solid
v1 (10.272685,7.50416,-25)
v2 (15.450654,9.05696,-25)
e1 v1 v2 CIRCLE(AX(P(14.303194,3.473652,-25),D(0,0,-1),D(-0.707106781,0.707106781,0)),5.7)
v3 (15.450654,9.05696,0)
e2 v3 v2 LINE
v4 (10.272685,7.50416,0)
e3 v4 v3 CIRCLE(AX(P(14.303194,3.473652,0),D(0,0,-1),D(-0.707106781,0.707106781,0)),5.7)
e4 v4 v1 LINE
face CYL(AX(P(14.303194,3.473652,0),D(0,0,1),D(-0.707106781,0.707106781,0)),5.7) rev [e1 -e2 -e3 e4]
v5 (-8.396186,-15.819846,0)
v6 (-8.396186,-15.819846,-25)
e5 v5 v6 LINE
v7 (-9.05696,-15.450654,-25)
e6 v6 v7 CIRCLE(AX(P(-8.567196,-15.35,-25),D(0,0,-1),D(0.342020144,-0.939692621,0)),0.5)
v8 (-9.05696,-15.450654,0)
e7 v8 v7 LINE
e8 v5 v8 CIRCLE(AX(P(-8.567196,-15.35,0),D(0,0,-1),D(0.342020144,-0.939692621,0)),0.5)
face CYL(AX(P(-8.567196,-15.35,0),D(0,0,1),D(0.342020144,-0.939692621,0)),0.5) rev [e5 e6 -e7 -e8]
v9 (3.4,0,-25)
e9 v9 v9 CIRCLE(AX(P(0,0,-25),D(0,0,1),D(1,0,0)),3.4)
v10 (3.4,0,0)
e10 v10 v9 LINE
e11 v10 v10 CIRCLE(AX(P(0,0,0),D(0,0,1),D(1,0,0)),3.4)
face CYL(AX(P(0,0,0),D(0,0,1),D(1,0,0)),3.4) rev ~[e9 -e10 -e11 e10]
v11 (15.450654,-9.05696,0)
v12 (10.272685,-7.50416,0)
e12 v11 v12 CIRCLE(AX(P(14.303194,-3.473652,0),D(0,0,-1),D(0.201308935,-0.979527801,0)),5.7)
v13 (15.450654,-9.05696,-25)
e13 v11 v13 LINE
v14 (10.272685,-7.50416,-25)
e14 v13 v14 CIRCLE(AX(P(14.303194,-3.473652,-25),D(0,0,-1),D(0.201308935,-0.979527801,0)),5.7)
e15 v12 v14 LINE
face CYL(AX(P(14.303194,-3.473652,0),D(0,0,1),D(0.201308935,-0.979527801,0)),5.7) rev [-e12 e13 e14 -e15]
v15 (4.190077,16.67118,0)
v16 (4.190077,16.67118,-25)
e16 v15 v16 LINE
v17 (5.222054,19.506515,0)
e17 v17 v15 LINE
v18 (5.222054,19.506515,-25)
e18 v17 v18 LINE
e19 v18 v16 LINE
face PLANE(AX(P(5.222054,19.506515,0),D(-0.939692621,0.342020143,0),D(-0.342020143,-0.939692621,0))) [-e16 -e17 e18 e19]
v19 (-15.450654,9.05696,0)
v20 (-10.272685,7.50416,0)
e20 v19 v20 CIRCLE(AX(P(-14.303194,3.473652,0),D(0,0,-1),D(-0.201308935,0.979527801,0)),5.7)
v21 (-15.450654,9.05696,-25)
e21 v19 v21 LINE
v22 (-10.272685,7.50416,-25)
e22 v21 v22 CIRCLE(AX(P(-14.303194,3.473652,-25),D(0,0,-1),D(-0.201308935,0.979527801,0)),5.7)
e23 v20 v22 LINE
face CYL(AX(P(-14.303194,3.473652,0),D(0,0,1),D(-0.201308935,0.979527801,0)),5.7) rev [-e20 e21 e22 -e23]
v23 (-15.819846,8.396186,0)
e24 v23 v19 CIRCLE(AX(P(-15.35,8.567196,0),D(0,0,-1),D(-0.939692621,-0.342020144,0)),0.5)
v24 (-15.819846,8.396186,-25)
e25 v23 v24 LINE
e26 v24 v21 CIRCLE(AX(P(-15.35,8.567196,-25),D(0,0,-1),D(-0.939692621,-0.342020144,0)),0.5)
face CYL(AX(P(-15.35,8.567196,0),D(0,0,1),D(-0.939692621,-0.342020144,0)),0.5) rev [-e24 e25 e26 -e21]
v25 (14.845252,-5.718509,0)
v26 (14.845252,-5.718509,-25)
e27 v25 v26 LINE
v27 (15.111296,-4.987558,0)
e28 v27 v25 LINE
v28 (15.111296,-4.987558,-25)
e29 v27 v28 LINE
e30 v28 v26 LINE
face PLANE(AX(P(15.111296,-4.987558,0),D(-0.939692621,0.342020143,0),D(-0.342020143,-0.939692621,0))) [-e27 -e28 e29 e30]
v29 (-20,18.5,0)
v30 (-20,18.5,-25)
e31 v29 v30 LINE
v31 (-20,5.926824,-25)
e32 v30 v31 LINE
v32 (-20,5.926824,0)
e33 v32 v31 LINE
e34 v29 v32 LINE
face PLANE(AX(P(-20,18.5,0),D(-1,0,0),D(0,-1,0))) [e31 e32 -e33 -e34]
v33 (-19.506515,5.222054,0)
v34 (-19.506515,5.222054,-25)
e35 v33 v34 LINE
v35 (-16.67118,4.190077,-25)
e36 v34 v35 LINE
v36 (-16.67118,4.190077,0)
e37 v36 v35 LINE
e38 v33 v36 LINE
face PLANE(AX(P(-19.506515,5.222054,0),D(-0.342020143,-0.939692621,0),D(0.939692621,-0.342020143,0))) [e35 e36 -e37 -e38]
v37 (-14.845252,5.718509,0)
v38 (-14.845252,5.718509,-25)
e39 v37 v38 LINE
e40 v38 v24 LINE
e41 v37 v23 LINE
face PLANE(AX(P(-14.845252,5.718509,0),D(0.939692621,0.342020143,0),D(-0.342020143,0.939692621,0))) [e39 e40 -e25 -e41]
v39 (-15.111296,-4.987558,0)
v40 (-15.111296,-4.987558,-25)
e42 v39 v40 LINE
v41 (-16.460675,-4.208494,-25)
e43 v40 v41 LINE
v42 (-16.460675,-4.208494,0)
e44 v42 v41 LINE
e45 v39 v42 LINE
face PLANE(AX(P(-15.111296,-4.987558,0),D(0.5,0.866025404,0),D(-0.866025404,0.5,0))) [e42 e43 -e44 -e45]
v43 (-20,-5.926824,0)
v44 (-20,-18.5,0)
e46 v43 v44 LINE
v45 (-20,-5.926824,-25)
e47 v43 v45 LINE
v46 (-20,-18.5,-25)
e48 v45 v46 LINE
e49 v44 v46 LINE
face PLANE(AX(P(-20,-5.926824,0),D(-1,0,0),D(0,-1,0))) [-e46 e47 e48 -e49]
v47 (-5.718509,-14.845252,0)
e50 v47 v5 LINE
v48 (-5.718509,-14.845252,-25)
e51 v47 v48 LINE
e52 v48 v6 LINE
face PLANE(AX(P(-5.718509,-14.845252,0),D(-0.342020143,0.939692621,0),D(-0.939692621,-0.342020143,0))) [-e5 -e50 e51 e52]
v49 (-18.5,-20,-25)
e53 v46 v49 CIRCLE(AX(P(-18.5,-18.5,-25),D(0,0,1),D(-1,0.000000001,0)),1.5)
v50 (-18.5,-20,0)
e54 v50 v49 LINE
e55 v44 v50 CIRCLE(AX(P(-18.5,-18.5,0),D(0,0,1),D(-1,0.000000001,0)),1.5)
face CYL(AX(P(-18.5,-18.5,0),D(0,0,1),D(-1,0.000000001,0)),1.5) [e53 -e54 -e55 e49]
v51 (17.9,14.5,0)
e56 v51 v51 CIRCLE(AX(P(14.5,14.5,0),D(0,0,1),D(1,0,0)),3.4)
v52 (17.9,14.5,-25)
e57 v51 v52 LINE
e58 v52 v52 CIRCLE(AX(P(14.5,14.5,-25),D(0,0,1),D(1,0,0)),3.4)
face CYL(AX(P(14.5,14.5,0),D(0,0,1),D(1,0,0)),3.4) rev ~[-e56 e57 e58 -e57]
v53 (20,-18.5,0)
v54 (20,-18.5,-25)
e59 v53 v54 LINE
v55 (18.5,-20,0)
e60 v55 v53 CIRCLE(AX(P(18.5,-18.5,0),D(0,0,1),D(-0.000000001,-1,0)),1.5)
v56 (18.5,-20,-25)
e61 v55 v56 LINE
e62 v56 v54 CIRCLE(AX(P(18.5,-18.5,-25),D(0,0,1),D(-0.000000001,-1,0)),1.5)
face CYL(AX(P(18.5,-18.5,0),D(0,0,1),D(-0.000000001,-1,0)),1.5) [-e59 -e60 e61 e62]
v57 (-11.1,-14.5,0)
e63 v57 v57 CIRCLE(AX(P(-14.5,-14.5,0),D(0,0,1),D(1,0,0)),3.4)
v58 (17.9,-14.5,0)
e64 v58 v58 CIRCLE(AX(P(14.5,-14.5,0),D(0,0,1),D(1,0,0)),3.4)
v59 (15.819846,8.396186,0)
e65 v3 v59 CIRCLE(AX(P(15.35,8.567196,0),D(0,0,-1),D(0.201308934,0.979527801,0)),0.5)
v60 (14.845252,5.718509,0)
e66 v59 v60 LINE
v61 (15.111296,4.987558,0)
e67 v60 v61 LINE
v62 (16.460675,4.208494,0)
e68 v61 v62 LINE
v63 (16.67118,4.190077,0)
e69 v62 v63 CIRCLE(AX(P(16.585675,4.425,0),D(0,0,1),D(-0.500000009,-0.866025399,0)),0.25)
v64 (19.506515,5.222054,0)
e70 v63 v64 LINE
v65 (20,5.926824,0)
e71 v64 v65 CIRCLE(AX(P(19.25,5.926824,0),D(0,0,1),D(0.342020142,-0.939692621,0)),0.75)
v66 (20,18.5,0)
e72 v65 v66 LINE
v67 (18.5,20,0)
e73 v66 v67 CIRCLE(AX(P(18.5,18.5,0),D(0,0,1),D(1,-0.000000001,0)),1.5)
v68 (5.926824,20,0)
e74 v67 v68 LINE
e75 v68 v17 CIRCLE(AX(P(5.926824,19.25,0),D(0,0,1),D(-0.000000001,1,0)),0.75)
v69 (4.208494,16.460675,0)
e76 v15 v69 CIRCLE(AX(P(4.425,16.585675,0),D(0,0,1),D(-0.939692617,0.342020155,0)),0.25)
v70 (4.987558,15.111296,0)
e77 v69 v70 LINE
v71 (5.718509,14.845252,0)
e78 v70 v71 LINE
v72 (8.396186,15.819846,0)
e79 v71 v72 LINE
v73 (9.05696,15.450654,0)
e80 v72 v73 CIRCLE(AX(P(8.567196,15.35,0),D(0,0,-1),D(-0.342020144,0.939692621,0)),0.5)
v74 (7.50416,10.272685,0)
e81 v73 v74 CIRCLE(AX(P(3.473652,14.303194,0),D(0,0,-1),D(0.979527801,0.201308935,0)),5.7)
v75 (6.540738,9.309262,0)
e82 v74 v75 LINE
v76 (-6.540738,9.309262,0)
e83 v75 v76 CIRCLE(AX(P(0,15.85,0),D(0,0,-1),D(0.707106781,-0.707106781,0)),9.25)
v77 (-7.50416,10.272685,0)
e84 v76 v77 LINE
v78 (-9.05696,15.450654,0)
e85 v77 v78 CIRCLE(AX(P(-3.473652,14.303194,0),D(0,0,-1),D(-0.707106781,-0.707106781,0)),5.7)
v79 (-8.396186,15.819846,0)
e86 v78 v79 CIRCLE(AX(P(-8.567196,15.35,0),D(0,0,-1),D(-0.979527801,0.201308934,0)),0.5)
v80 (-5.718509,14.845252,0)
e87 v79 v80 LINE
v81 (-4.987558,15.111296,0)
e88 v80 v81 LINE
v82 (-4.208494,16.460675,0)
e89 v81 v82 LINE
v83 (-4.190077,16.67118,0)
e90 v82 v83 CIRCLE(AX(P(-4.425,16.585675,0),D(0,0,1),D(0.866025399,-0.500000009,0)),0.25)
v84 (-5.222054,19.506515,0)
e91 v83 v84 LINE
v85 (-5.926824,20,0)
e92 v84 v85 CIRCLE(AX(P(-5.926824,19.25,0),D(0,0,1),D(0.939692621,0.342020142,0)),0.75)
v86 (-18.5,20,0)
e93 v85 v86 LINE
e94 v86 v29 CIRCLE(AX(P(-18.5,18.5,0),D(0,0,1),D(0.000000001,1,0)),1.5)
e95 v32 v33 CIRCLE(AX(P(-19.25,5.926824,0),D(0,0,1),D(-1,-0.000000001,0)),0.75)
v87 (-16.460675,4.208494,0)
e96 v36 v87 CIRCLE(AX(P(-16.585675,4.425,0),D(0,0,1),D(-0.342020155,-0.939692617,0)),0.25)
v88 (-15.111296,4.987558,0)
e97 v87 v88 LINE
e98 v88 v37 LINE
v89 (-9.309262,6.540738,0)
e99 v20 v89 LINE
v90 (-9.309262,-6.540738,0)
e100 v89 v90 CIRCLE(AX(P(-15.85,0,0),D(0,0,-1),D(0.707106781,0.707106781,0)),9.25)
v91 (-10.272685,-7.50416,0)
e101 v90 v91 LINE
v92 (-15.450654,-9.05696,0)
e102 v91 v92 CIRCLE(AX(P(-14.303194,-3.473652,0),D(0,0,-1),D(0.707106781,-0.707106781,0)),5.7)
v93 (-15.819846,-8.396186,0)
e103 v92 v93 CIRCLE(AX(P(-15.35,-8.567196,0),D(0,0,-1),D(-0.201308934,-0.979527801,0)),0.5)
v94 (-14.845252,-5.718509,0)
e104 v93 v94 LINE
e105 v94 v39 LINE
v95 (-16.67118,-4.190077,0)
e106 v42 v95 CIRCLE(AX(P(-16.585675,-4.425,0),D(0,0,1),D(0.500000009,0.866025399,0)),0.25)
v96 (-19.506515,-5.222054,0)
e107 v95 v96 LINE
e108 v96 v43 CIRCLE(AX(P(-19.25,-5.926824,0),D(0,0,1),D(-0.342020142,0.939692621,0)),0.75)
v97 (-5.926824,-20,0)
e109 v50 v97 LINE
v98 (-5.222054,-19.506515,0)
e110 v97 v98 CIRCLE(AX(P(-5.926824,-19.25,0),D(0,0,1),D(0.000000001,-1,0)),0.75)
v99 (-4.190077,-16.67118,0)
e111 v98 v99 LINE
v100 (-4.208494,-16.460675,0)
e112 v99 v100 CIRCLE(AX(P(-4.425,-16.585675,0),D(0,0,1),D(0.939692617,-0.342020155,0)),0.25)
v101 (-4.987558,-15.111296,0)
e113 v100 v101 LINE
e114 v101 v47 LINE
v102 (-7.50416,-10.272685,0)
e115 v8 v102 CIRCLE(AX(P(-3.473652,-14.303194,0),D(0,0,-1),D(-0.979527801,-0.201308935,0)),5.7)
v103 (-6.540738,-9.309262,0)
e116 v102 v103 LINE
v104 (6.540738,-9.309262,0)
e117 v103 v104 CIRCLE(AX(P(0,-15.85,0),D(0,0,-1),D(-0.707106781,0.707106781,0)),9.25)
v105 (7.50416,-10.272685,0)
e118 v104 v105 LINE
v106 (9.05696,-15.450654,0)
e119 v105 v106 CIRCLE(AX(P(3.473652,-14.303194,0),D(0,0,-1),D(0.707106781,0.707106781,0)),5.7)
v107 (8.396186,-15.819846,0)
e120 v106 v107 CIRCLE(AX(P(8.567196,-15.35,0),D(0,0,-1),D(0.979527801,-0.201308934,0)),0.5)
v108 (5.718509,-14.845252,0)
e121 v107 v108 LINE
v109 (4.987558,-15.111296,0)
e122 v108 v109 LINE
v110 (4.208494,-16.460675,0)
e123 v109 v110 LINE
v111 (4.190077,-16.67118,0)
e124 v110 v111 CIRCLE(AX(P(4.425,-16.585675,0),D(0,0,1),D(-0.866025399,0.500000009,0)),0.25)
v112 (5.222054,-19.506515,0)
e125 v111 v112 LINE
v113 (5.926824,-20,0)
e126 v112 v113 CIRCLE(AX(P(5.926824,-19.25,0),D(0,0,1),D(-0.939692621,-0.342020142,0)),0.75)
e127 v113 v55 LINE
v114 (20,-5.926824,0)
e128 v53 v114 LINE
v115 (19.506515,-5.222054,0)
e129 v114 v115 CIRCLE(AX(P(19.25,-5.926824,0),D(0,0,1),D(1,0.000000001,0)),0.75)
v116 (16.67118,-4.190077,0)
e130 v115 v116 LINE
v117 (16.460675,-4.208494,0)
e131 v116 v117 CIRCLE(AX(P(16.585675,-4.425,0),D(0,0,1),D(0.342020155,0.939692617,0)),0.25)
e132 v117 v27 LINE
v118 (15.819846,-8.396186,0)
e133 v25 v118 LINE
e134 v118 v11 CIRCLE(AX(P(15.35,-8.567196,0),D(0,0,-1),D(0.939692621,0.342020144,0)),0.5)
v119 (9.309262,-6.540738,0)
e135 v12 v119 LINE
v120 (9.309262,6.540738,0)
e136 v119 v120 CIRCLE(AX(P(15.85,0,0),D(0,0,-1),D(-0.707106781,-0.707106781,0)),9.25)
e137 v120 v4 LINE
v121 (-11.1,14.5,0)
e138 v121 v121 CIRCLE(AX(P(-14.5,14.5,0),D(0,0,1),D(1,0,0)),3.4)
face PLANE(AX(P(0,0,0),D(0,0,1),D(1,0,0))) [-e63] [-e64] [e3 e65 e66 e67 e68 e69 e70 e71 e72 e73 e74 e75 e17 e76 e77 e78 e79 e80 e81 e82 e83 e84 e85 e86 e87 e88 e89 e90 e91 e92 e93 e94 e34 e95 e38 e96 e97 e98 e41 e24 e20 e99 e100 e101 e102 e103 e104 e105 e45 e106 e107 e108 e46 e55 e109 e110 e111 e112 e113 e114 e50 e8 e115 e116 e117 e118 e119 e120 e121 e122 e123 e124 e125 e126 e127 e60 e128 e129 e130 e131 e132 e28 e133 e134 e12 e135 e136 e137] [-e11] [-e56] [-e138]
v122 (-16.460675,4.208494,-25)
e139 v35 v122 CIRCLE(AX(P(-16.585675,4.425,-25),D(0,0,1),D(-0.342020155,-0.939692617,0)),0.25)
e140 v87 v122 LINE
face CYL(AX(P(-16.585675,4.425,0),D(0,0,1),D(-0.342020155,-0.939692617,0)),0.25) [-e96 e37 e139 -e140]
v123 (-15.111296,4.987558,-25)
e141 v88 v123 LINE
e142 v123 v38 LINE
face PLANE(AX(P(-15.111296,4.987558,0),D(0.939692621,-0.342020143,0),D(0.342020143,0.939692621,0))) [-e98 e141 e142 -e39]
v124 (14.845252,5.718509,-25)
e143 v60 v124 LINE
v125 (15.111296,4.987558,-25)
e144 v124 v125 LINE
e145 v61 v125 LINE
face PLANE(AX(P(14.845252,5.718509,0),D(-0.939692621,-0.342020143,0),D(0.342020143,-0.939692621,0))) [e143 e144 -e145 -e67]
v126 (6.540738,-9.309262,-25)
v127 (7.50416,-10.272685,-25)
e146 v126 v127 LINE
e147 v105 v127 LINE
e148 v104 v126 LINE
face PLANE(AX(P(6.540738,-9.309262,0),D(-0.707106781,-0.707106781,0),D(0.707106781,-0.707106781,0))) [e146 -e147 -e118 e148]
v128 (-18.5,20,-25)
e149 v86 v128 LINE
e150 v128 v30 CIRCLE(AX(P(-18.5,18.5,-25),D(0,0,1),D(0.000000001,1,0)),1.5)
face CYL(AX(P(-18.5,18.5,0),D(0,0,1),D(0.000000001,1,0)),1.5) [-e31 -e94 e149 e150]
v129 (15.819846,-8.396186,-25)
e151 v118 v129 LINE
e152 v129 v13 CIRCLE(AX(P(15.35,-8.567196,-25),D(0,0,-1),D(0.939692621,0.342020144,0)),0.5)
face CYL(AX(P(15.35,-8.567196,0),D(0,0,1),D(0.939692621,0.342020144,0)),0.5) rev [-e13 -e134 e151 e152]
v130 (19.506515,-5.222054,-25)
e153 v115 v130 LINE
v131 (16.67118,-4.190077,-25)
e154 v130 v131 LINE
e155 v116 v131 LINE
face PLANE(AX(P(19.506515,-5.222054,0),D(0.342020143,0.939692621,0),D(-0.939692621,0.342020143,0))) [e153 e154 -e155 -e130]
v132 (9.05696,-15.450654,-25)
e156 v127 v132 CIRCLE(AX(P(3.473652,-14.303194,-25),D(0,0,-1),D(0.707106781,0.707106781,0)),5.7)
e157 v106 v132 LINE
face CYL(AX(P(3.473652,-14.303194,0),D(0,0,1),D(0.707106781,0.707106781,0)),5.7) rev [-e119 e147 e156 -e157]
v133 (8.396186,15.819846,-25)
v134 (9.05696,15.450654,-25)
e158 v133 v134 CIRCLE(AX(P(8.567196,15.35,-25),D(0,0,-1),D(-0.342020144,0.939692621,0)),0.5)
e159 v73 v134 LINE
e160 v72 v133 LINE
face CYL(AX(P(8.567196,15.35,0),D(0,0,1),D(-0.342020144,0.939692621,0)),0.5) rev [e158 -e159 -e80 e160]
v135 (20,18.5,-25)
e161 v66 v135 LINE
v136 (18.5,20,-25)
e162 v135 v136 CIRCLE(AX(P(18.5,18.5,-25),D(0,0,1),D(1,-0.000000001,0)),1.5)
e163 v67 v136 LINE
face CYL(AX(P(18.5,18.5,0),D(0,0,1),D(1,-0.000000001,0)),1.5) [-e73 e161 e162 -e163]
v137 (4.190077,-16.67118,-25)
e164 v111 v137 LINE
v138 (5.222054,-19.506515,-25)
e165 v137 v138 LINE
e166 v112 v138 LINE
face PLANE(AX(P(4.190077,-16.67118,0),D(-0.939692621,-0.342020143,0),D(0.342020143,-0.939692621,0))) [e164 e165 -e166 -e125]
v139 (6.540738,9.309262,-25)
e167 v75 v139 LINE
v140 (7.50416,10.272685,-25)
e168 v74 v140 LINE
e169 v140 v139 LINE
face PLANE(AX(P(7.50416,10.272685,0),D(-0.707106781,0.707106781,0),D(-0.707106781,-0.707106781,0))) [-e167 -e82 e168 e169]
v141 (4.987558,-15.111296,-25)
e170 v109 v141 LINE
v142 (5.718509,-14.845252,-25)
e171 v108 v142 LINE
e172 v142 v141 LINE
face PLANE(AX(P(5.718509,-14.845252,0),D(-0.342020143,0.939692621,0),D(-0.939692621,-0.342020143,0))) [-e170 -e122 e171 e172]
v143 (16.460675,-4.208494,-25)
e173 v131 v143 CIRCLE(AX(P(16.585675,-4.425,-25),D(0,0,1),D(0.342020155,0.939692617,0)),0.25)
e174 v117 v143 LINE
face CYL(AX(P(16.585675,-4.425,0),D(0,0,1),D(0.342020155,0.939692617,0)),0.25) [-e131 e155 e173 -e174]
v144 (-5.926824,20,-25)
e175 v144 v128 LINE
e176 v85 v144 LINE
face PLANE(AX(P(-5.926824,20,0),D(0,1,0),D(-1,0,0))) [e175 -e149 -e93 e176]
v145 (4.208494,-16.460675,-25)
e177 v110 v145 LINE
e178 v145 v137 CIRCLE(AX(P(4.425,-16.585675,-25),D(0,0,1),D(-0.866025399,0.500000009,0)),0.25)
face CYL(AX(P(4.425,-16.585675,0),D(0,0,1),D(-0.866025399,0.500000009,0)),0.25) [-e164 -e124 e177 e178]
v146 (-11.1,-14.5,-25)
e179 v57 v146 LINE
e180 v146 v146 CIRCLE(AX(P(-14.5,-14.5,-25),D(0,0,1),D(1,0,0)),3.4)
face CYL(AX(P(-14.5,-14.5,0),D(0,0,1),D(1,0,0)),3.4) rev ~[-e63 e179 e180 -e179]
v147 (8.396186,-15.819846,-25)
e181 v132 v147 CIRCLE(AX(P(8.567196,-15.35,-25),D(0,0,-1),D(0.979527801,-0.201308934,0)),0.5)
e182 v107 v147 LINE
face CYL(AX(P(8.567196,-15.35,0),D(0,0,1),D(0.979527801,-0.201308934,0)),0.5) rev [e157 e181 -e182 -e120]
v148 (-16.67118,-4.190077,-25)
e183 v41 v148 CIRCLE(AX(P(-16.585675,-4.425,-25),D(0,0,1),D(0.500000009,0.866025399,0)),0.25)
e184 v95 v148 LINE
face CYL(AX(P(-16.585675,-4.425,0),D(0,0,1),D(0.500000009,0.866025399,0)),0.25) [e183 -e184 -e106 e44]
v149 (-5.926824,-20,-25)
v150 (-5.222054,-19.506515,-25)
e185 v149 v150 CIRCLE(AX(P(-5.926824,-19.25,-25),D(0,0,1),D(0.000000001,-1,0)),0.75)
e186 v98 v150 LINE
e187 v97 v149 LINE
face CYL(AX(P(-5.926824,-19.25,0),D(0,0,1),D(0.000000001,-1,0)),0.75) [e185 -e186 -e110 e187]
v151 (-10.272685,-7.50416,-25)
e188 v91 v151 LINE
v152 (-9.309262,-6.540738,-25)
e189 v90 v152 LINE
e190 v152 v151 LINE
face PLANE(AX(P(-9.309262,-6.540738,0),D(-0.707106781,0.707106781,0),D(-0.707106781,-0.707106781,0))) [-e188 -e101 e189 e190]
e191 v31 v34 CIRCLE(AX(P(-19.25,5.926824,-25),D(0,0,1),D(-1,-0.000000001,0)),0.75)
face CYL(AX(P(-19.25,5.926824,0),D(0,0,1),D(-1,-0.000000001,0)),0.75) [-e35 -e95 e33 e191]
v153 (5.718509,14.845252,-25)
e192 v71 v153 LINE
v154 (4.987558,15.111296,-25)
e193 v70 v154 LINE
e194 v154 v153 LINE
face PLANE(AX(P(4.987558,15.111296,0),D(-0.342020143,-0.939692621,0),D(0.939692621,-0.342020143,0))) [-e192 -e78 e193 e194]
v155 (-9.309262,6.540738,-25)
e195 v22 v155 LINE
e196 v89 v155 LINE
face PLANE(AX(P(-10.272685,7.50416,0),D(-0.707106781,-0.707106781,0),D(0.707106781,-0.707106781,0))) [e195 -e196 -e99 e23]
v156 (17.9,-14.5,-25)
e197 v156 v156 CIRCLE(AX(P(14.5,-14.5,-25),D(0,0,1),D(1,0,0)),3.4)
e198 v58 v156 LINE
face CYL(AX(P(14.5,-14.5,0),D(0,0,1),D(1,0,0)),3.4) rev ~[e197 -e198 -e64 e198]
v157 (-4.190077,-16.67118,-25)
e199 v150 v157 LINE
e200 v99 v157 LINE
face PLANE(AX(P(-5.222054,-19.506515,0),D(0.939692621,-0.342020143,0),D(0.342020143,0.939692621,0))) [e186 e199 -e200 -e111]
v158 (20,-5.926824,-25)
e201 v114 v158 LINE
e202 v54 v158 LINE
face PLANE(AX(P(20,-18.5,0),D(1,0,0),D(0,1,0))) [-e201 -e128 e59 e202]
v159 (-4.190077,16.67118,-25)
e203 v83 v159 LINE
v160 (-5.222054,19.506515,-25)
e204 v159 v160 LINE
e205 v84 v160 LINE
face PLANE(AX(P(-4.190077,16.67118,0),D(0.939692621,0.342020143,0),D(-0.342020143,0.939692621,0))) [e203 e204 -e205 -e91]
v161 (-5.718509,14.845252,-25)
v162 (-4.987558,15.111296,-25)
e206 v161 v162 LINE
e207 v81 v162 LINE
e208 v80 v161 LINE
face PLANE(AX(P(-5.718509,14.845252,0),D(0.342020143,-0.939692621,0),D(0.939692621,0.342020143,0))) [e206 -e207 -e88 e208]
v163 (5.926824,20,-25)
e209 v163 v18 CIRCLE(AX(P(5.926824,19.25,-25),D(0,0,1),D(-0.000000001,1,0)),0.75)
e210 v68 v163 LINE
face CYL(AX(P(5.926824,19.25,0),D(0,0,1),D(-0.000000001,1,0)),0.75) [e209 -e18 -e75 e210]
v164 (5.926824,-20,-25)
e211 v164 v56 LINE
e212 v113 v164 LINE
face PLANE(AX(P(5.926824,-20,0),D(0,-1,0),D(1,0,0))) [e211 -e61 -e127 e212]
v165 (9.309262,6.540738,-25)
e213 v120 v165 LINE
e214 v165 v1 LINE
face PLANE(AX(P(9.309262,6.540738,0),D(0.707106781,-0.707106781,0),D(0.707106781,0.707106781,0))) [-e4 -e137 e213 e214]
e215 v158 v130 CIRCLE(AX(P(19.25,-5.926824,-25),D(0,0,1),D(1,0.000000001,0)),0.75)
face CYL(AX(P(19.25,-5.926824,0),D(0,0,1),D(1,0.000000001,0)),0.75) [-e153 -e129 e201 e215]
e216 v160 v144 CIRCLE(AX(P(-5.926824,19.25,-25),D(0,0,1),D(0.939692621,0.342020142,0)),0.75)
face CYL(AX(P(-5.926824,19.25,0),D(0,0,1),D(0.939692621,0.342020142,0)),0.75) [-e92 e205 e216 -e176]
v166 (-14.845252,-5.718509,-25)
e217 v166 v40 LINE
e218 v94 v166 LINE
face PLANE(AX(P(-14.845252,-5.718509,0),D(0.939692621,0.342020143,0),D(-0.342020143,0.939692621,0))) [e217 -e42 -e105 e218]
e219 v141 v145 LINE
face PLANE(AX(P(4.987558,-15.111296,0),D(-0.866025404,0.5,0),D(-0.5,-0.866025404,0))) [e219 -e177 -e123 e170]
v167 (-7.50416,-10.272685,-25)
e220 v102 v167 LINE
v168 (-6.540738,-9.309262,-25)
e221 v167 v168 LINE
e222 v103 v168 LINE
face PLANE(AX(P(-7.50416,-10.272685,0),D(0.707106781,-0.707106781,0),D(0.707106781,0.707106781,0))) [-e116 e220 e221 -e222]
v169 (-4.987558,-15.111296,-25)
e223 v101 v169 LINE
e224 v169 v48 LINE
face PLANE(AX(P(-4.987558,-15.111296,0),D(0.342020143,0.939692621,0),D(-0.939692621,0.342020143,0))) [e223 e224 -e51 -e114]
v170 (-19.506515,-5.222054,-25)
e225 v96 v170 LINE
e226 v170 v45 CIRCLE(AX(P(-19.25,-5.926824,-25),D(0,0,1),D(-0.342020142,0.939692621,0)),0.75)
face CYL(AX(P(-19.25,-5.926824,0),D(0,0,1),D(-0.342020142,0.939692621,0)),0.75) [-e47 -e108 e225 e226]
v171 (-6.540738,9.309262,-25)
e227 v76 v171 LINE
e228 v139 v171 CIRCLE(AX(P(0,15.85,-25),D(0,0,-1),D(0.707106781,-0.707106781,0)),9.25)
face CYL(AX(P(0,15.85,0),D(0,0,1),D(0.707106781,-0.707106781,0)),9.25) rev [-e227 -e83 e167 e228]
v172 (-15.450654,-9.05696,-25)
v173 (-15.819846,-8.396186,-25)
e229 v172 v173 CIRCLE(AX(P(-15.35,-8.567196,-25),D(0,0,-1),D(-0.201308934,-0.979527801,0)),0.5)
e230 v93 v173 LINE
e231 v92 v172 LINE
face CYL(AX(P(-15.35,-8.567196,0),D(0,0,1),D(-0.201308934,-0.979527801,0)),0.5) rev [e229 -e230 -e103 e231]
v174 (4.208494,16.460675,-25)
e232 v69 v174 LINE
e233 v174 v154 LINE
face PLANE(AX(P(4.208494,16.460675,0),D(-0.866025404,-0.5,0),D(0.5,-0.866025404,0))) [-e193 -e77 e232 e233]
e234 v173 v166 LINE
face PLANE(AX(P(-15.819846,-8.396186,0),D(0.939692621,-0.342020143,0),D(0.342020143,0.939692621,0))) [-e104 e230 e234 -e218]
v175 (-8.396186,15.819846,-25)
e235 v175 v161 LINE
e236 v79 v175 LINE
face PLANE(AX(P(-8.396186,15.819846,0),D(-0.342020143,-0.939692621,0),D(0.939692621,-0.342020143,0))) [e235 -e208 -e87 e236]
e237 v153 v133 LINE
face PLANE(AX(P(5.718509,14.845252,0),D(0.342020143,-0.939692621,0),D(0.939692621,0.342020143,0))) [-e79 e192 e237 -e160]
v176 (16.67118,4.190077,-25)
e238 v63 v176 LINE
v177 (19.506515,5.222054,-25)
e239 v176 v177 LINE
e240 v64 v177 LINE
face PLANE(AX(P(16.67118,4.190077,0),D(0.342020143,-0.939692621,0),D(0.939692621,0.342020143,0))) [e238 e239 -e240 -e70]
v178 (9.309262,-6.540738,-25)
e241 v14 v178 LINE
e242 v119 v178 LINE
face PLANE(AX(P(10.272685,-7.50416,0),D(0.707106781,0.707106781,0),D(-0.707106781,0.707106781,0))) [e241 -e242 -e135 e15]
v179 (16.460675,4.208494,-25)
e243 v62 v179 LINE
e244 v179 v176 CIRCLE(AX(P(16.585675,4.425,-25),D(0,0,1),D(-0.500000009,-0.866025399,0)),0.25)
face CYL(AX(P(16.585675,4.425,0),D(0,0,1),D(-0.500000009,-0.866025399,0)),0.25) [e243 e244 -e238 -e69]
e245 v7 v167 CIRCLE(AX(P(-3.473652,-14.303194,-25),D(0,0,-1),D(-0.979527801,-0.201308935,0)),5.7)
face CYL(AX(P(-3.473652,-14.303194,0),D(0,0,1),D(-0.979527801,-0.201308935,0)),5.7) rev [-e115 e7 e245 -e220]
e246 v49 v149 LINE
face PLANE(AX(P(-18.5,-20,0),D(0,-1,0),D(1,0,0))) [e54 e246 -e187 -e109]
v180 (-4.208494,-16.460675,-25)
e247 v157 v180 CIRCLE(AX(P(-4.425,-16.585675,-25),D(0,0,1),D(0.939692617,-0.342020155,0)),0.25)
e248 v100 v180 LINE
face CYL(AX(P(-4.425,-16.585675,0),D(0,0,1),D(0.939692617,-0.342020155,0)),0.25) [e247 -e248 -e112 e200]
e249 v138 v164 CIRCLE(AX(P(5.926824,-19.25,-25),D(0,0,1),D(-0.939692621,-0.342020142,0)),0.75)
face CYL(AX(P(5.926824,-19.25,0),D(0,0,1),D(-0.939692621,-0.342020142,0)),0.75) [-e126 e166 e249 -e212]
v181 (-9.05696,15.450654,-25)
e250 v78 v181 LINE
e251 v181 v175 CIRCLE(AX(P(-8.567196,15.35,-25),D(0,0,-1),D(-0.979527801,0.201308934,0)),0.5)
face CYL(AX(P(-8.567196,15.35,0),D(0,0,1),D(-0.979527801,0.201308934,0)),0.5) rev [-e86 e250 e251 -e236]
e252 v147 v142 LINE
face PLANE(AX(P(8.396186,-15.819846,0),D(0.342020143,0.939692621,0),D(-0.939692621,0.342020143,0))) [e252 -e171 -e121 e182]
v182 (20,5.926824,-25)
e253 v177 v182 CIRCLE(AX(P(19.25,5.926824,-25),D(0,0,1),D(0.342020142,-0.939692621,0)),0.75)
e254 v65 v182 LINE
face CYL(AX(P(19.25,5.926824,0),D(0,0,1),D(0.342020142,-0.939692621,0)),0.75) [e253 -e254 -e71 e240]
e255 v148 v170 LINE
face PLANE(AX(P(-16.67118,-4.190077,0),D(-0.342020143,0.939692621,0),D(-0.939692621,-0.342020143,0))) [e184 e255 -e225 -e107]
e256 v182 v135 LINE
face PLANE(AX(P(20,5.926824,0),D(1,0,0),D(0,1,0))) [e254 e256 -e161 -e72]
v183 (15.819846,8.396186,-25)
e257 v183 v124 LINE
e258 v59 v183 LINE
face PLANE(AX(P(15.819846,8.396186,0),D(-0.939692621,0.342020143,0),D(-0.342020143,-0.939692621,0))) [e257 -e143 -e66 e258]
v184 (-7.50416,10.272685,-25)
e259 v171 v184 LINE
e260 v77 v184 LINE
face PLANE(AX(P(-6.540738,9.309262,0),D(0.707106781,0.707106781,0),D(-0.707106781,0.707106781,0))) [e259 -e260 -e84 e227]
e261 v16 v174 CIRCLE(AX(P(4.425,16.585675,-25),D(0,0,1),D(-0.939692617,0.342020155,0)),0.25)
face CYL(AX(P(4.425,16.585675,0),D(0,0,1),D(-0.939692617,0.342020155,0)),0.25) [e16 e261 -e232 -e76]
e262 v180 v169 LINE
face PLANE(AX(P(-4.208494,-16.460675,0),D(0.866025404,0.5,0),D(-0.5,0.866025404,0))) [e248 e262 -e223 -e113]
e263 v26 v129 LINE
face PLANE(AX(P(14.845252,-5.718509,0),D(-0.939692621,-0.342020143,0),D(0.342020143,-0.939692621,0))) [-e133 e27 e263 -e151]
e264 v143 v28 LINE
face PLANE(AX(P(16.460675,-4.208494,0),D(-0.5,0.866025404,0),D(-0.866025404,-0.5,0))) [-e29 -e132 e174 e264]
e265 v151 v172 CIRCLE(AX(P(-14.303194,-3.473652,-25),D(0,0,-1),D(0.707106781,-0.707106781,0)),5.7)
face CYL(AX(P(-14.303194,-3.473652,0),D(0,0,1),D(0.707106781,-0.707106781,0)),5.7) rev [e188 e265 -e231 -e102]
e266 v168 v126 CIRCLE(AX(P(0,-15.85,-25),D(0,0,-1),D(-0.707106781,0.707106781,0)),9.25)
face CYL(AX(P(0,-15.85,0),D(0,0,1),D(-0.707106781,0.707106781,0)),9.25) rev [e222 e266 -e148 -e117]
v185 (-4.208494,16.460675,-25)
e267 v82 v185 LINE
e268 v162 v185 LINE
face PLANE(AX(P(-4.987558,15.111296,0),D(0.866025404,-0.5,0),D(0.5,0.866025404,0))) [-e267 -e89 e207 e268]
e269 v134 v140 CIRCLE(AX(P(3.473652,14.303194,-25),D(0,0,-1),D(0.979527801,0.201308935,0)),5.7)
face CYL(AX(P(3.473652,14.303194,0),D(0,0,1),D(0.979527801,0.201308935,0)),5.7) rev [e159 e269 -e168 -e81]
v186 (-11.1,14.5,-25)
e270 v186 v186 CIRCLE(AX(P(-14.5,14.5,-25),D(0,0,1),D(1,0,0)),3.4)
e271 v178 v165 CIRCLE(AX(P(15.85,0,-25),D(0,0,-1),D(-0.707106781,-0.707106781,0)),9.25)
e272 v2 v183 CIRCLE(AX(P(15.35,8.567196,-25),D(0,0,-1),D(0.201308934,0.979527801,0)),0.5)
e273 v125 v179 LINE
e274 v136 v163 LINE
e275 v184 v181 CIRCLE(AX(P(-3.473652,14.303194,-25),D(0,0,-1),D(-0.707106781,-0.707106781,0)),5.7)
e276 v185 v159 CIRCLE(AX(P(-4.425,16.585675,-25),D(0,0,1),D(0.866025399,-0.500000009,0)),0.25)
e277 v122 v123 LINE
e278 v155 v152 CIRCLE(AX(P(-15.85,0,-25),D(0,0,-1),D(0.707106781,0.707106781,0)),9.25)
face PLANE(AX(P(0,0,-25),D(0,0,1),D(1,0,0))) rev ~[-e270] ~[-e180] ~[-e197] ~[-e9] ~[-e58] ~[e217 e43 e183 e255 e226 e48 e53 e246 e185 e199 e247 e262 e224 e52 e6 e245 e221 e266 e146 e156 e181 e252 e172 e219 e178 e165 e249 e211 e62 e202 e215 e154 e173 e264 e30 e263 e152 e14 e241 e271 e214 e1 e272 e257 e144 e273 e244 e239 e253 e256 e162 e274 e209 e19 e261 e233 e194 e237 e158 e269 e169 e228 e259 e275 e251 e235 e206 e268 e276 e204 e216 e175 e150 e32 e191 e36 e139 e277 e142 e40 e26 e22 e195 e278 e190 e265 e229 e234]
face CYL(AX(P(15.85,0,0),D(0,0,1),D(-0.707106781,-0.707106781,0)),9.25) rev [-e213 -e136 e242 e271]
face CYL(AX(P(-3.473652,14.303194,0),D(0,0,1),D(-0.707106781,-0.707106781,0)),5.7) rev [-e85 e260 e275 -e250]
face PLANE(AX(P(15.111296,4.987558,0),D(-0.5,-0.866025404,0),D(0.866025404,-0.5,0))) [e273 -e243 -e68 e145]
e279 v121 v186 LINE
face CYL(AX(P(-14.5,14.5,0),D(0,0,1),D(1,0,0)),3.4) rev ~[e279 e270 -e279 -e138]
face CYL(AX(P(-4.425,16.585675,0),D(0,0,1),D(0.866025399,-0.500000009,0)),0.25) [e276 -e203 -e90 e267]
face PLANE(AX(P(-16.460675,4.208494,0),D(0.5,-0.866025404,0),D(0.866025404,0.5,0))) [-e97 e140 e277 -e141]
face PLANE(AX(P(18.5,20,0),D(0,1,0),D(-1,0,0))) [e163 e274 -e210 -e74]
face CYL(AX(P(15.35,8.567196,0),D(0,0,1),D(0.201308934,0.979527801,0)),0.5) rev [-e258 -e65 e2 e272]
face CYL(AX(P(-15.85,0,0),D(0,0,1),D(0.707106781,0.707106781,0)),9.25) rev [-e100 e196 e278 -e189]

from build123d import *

# Parameters (mm, degrees)
SK_MAIN_EXTRUSION_R  = 3.4
MAIN_EXTRUSION_DEPTH = 25


with BuildPart() as part:
    # Sk Main Extrusion → Main Extrusion (new body)
    with BuildSketch(Plane.XY):
        with BuildLine():
            Line((4.190076845, -16.671180212), (5.222054351, -19.506515107))
            ThreePointArc((5.222054351, -19.506515107), (5.496641489, -19.864364033), (5.926823816, -20))
            Line((5.926823816, -20), (18.5, -20))
            ThreePointArc((18.5, -20), (19.560660172, -19.560660172), (20, -18.5))
            Line((20, -18.5), (20, -5.926823816))
            ThreePointArc((20, -5.926823816), (19.864364033, -5.496641489), (19.506515107, -5.222054351))
            Line((19.506515107, -5.222054351), (16.671180212, -4.190076845))
            ThreePointArc((16.671180212, -4.190076845), (16.563886241, -4.175951325), (16.460675177, -4.208493649))
            Line((16.460675177, -4.208493649), (15.111296024, -4.987558066))
            Line((15.111296024, -4.987558066), (14.845251581, -5.718509166))
            Line((14.845251581, -5.718509166), (15.81984631, -8.396186179))
            ThreePointArc((15.81984631, -8.396186179), (15.786489799, -8.811074612), (15.450654467, -9.056960151))
            ThreePointArc((15.450654467, -9.056960151), (12.665882372, -8.933433013), (10.272684887, -7.504160339))
            Line((10.272684887, -7.504160339), (9.309262274, -6.540737726))
            ThreePointArc((9.309262274, -6.540737726), (6.6, 0), (9.309262274, 6.540737726))
            Line((9.309262274, 6.540737726), (10.272684887, 7.504160339))
            ThreePointArc((10.272684887, 7.504160339), (12.665882372, 8.933433013), (15.450654467, 9.056960151))
            ThreePointArc((15.450654467, 9.056960151), (15.786489799, 8.811074612), (15.81984631, 8.396186179))
            Line((15.81984631, 8.396186179), (14.845251581, 5.718509166))
            Line((14.845251581, 5.718509166), (15.111296024, 4.987558066))
            Line((15.111296024, 4.987558066), (16.460675177, 4.208493649))
            ThreePointArc((16.460675177, 4.208493649), (16.563886241, 4.175951325), (16.671180212, 4.190076845))
            Line((16.671180212, 4.190076845), (19.506515107, 5.222054351))
            ThreePointArc((19.506515107, 5.222054351), (19.864364033, 5.496641489), (20, 5.926823816))
            Line((20, 5.926823816), (20, 18.5))
            ThreePointArc((20, 18.5), (19.560660172, 19.560660172), (18.5, 20))
            Line((18.5, 20), (5.926823816, 20))
            ThreePointArc((5.926823816, 20), (5.496641489, 19.864364033), (5.222054351, 19.506515107))
            Line((5.222054351, 19.506515107), (4.190076845, 16.671180212))
            ThreePointArc((4.190076845, 16.671180212), (4.175951325, 16.563886241), (4.208493649, 16.460675177))
            Line((4.208493649, 16.460675177), (4.987558066, 15.111296024))
            Line((4.987558066, 15.111296024), (5.718509166, 14.845251581))
            Line((5.718509166, 14.845251581), (8.396186179, 15.81984631))
            ThreePointArc((8.396186179, 15.81984631), (8.811074612, 15.786489799), (9.056960151, 15.450654467))
            ThreePointArc((9.056960151, 15.450654467), (8.933433013, 12.665882372), (7.504160339, 10.272684887))
            Line((7.504160339, 10.272684887), (6.540737726, 9.309262274))
            ThreePointArc((6.540737726, 9.309262274), (0, 6.6), (-6.540737726, 9.309262274))
            Line((-6.540737726, 9.309262274), (-7.504160339, 10.272684887))
            ThreePointArc((-7.504160339, 10.272684887), (-8.933433013, 12.665882372), (-9.056960151, 15.450654467))
            ThreePointArc((-9.056960151, 15.450654467), (-8.811074612, 15.786489799), (-8.396186179, 15.81984631))
            Line((-8.396186179, 15.81984631), (-5.718509166, 14.845251581))
            Line((-5.718509166, 14.845251581), (-4.987558066, 15.111296024))
            Line((-4.987558066, 15.111296024), (-4.208493649, 16.460675177))
            ThreePointArc((-4.208493649, 16.460675177), (-4.175951325, 16.563886241), (-4.190076845, 16.671180212))
            Line((-4.190076845, 16.671180212), (-5.222054351, 19.506515107))
            ThreePointArc((-5.222054351, 19.506515107), (-5.496641489, 19.864364033), (-5.926823816, 20))
            Line((-5.926823816, 20), (-18.5, 20))
            ThreePointArc((-18.5, 20), (-19.560660172, 19.560660172), (-20, 18.5))
            Line((-20, 18.5), (-20, 5.926823816))
            ThreePointArc((-20, 5.926823816), (-19.864364033, 5.496641489), (-19.506515107, 5.222054351))
            Line((-19.506515107, 5.222054351), (-16.671180212, 4.190076845))
            ThreePointArc((-16.671180212, 4.190076845), (-16.563886241, 4.175951325), (-16.460675177, 4.208493649))
            Line((-16.460675177, 4.208493649), (-15.111296024, 4.987558066))
            Line((-15.111296024, 4.987558066), (-14.845251581, 5.718509166))
            Line((-14.845251581, 5.718509166), (-15.81984631, 8.396186179))
            ThreePointArc((-15.81984631, 8.396186179), (-15.786489799, 8.811074612), (-15.450654467, 9.056960151))
            ThreePointArc((-15.450654467, 9.056960151), (-12.665882372, 8.933433013), (-10.272684887, 7.504160339))
            Line((-10.272684887, 7.504160339), (-9.309262274, 6.540737726))
            ThreePointArc((-9.309262274, 6.540737726), (-6.6, 0), (-9.309262274, -6.540737726))
            Line((-9.309262274, -6.540737726), (-10.272684887, -7.504160339))
            ThreePointArc((-10.272684887, -7.504160339), (-12.665882372, -8.933433013), (-15.450654467, -9.056960151))
            ThreePointArc((-15.450654467, -9.056960151), (-15.786489799, -8.811074612), (-15.81984631, -8.396186179))
            Line((-15.81984631, -8.396186179), (-14.845251581, -5.718509166))
            Line((-14.845251581, -5.718509166), (-15.111296024, -4.987558066))
            Line((-15.111296024, -4.987558066), (-16.460675177, -4.208493649))
            ThreePointArc((-16.460675177, -4.208493649), (-16.563886241, -4.175951325), (-16.671180212, -4.190076845))
            Line((-16.671180212, -4.190076845), (-19.506515107, -5.222054351))
            ThreePointArc((-19.506515107, -5.222054351), (-19.864364033, -5.496641489), (-20, -5.926823816))
            Line((-20, -5.926823816), (-20, -18.5))
            ThreePointArc((-20, -18.5), (-19.560660172, -19.560660172), (-18.5, -20))
            Line((-18.5, -20), (-5.926823816, -20))
            ThreePointArc((-5.926823816, -20), (-5.496641489, -19.864364033), (-5.222054351, -19.506515107))
            Line((-5.222054351, -19.506515107), (-4.190076845, -16.671180212))
            ThreePointArc((-4.190076845, -16.671180212), (-4.175951325, -16.563886241), (-4.208493649, -16.460675177))
            Line((-4.208493649, -16.460675177), (-4.987558066, -15.111296024))
            Line((-4.987558066, -15.111296024), (-5.718509166, -14.845251581))
            Line((-5.718509166, -14.845251581), (-8.396186179, -15.81984631))
            ThreePointArc((-8.396186179, -15.81984631), (-8.811074612, -15.786489799), (-9.056960151, -15.450654467))
            ThreePointArc((-9.056960151, -15.450654467), (-8.933433013, -12.665882372), (-7.504160339, -10.272684887))
            Line((-7.504160339, -10.272684887), (-6.540737726, -9.309262274))
            ThreePointArc((-6.540737726, -9.309262274), (0, -6.6), (6.540737726, -9.309262274))
            Line((6.540737726, -9.309262274), (7.504160339, -10.272684887))
            ThreePointArc((7.504160339, -10.272684887), (8.933433013, -12.665882372), (9.056960151, -15.450654467))
            ThreePointArc((9.056960151, -15.450654467), (8.811074612, -15.786489799), (8.396186179, -15.81984631))
            Line((8.396186179, -15.81984631), (5.718509166, -14.845251581))
            Line((5.718509166, -14.845251581), (4.987558066, -15.111296024))
            Line((4.987558066, -15.111296024), (4.208493649, -16.460675177))
            ThreePointArc((4.208493649, -16.460675177), (4.175951325, -16.563886241), (4.190076845, -16.671180212))
        make_face()
        with Locations((-14.5, -14.5)):
            Circle(SK_MAIN_EXTRUSION_R, mode=Mode.SUBTRACT)
        with Locations((14.5, -14.5)):
            Circle(SK_MAIN_EXTRUSION_R, mode=Mode.SUBTRACT)
        with Locations((14.5, 14.5)):
            Circle(SK_MAIN_EXTRUSION_R, mode=Mode.SUBTRACT)
        with Locations((-14.5, 14.5)):
            Circle(SK_MAIN_EXTRUSION_R, mode=Mode.SUBTRACT)
        Circle(SK_MAIN_EXTRUSION_R, mode=Mode.SUBTRACT)
    extrude(amount=-MAIN_EXTRUSION_DEPTH)


solid = part.part
